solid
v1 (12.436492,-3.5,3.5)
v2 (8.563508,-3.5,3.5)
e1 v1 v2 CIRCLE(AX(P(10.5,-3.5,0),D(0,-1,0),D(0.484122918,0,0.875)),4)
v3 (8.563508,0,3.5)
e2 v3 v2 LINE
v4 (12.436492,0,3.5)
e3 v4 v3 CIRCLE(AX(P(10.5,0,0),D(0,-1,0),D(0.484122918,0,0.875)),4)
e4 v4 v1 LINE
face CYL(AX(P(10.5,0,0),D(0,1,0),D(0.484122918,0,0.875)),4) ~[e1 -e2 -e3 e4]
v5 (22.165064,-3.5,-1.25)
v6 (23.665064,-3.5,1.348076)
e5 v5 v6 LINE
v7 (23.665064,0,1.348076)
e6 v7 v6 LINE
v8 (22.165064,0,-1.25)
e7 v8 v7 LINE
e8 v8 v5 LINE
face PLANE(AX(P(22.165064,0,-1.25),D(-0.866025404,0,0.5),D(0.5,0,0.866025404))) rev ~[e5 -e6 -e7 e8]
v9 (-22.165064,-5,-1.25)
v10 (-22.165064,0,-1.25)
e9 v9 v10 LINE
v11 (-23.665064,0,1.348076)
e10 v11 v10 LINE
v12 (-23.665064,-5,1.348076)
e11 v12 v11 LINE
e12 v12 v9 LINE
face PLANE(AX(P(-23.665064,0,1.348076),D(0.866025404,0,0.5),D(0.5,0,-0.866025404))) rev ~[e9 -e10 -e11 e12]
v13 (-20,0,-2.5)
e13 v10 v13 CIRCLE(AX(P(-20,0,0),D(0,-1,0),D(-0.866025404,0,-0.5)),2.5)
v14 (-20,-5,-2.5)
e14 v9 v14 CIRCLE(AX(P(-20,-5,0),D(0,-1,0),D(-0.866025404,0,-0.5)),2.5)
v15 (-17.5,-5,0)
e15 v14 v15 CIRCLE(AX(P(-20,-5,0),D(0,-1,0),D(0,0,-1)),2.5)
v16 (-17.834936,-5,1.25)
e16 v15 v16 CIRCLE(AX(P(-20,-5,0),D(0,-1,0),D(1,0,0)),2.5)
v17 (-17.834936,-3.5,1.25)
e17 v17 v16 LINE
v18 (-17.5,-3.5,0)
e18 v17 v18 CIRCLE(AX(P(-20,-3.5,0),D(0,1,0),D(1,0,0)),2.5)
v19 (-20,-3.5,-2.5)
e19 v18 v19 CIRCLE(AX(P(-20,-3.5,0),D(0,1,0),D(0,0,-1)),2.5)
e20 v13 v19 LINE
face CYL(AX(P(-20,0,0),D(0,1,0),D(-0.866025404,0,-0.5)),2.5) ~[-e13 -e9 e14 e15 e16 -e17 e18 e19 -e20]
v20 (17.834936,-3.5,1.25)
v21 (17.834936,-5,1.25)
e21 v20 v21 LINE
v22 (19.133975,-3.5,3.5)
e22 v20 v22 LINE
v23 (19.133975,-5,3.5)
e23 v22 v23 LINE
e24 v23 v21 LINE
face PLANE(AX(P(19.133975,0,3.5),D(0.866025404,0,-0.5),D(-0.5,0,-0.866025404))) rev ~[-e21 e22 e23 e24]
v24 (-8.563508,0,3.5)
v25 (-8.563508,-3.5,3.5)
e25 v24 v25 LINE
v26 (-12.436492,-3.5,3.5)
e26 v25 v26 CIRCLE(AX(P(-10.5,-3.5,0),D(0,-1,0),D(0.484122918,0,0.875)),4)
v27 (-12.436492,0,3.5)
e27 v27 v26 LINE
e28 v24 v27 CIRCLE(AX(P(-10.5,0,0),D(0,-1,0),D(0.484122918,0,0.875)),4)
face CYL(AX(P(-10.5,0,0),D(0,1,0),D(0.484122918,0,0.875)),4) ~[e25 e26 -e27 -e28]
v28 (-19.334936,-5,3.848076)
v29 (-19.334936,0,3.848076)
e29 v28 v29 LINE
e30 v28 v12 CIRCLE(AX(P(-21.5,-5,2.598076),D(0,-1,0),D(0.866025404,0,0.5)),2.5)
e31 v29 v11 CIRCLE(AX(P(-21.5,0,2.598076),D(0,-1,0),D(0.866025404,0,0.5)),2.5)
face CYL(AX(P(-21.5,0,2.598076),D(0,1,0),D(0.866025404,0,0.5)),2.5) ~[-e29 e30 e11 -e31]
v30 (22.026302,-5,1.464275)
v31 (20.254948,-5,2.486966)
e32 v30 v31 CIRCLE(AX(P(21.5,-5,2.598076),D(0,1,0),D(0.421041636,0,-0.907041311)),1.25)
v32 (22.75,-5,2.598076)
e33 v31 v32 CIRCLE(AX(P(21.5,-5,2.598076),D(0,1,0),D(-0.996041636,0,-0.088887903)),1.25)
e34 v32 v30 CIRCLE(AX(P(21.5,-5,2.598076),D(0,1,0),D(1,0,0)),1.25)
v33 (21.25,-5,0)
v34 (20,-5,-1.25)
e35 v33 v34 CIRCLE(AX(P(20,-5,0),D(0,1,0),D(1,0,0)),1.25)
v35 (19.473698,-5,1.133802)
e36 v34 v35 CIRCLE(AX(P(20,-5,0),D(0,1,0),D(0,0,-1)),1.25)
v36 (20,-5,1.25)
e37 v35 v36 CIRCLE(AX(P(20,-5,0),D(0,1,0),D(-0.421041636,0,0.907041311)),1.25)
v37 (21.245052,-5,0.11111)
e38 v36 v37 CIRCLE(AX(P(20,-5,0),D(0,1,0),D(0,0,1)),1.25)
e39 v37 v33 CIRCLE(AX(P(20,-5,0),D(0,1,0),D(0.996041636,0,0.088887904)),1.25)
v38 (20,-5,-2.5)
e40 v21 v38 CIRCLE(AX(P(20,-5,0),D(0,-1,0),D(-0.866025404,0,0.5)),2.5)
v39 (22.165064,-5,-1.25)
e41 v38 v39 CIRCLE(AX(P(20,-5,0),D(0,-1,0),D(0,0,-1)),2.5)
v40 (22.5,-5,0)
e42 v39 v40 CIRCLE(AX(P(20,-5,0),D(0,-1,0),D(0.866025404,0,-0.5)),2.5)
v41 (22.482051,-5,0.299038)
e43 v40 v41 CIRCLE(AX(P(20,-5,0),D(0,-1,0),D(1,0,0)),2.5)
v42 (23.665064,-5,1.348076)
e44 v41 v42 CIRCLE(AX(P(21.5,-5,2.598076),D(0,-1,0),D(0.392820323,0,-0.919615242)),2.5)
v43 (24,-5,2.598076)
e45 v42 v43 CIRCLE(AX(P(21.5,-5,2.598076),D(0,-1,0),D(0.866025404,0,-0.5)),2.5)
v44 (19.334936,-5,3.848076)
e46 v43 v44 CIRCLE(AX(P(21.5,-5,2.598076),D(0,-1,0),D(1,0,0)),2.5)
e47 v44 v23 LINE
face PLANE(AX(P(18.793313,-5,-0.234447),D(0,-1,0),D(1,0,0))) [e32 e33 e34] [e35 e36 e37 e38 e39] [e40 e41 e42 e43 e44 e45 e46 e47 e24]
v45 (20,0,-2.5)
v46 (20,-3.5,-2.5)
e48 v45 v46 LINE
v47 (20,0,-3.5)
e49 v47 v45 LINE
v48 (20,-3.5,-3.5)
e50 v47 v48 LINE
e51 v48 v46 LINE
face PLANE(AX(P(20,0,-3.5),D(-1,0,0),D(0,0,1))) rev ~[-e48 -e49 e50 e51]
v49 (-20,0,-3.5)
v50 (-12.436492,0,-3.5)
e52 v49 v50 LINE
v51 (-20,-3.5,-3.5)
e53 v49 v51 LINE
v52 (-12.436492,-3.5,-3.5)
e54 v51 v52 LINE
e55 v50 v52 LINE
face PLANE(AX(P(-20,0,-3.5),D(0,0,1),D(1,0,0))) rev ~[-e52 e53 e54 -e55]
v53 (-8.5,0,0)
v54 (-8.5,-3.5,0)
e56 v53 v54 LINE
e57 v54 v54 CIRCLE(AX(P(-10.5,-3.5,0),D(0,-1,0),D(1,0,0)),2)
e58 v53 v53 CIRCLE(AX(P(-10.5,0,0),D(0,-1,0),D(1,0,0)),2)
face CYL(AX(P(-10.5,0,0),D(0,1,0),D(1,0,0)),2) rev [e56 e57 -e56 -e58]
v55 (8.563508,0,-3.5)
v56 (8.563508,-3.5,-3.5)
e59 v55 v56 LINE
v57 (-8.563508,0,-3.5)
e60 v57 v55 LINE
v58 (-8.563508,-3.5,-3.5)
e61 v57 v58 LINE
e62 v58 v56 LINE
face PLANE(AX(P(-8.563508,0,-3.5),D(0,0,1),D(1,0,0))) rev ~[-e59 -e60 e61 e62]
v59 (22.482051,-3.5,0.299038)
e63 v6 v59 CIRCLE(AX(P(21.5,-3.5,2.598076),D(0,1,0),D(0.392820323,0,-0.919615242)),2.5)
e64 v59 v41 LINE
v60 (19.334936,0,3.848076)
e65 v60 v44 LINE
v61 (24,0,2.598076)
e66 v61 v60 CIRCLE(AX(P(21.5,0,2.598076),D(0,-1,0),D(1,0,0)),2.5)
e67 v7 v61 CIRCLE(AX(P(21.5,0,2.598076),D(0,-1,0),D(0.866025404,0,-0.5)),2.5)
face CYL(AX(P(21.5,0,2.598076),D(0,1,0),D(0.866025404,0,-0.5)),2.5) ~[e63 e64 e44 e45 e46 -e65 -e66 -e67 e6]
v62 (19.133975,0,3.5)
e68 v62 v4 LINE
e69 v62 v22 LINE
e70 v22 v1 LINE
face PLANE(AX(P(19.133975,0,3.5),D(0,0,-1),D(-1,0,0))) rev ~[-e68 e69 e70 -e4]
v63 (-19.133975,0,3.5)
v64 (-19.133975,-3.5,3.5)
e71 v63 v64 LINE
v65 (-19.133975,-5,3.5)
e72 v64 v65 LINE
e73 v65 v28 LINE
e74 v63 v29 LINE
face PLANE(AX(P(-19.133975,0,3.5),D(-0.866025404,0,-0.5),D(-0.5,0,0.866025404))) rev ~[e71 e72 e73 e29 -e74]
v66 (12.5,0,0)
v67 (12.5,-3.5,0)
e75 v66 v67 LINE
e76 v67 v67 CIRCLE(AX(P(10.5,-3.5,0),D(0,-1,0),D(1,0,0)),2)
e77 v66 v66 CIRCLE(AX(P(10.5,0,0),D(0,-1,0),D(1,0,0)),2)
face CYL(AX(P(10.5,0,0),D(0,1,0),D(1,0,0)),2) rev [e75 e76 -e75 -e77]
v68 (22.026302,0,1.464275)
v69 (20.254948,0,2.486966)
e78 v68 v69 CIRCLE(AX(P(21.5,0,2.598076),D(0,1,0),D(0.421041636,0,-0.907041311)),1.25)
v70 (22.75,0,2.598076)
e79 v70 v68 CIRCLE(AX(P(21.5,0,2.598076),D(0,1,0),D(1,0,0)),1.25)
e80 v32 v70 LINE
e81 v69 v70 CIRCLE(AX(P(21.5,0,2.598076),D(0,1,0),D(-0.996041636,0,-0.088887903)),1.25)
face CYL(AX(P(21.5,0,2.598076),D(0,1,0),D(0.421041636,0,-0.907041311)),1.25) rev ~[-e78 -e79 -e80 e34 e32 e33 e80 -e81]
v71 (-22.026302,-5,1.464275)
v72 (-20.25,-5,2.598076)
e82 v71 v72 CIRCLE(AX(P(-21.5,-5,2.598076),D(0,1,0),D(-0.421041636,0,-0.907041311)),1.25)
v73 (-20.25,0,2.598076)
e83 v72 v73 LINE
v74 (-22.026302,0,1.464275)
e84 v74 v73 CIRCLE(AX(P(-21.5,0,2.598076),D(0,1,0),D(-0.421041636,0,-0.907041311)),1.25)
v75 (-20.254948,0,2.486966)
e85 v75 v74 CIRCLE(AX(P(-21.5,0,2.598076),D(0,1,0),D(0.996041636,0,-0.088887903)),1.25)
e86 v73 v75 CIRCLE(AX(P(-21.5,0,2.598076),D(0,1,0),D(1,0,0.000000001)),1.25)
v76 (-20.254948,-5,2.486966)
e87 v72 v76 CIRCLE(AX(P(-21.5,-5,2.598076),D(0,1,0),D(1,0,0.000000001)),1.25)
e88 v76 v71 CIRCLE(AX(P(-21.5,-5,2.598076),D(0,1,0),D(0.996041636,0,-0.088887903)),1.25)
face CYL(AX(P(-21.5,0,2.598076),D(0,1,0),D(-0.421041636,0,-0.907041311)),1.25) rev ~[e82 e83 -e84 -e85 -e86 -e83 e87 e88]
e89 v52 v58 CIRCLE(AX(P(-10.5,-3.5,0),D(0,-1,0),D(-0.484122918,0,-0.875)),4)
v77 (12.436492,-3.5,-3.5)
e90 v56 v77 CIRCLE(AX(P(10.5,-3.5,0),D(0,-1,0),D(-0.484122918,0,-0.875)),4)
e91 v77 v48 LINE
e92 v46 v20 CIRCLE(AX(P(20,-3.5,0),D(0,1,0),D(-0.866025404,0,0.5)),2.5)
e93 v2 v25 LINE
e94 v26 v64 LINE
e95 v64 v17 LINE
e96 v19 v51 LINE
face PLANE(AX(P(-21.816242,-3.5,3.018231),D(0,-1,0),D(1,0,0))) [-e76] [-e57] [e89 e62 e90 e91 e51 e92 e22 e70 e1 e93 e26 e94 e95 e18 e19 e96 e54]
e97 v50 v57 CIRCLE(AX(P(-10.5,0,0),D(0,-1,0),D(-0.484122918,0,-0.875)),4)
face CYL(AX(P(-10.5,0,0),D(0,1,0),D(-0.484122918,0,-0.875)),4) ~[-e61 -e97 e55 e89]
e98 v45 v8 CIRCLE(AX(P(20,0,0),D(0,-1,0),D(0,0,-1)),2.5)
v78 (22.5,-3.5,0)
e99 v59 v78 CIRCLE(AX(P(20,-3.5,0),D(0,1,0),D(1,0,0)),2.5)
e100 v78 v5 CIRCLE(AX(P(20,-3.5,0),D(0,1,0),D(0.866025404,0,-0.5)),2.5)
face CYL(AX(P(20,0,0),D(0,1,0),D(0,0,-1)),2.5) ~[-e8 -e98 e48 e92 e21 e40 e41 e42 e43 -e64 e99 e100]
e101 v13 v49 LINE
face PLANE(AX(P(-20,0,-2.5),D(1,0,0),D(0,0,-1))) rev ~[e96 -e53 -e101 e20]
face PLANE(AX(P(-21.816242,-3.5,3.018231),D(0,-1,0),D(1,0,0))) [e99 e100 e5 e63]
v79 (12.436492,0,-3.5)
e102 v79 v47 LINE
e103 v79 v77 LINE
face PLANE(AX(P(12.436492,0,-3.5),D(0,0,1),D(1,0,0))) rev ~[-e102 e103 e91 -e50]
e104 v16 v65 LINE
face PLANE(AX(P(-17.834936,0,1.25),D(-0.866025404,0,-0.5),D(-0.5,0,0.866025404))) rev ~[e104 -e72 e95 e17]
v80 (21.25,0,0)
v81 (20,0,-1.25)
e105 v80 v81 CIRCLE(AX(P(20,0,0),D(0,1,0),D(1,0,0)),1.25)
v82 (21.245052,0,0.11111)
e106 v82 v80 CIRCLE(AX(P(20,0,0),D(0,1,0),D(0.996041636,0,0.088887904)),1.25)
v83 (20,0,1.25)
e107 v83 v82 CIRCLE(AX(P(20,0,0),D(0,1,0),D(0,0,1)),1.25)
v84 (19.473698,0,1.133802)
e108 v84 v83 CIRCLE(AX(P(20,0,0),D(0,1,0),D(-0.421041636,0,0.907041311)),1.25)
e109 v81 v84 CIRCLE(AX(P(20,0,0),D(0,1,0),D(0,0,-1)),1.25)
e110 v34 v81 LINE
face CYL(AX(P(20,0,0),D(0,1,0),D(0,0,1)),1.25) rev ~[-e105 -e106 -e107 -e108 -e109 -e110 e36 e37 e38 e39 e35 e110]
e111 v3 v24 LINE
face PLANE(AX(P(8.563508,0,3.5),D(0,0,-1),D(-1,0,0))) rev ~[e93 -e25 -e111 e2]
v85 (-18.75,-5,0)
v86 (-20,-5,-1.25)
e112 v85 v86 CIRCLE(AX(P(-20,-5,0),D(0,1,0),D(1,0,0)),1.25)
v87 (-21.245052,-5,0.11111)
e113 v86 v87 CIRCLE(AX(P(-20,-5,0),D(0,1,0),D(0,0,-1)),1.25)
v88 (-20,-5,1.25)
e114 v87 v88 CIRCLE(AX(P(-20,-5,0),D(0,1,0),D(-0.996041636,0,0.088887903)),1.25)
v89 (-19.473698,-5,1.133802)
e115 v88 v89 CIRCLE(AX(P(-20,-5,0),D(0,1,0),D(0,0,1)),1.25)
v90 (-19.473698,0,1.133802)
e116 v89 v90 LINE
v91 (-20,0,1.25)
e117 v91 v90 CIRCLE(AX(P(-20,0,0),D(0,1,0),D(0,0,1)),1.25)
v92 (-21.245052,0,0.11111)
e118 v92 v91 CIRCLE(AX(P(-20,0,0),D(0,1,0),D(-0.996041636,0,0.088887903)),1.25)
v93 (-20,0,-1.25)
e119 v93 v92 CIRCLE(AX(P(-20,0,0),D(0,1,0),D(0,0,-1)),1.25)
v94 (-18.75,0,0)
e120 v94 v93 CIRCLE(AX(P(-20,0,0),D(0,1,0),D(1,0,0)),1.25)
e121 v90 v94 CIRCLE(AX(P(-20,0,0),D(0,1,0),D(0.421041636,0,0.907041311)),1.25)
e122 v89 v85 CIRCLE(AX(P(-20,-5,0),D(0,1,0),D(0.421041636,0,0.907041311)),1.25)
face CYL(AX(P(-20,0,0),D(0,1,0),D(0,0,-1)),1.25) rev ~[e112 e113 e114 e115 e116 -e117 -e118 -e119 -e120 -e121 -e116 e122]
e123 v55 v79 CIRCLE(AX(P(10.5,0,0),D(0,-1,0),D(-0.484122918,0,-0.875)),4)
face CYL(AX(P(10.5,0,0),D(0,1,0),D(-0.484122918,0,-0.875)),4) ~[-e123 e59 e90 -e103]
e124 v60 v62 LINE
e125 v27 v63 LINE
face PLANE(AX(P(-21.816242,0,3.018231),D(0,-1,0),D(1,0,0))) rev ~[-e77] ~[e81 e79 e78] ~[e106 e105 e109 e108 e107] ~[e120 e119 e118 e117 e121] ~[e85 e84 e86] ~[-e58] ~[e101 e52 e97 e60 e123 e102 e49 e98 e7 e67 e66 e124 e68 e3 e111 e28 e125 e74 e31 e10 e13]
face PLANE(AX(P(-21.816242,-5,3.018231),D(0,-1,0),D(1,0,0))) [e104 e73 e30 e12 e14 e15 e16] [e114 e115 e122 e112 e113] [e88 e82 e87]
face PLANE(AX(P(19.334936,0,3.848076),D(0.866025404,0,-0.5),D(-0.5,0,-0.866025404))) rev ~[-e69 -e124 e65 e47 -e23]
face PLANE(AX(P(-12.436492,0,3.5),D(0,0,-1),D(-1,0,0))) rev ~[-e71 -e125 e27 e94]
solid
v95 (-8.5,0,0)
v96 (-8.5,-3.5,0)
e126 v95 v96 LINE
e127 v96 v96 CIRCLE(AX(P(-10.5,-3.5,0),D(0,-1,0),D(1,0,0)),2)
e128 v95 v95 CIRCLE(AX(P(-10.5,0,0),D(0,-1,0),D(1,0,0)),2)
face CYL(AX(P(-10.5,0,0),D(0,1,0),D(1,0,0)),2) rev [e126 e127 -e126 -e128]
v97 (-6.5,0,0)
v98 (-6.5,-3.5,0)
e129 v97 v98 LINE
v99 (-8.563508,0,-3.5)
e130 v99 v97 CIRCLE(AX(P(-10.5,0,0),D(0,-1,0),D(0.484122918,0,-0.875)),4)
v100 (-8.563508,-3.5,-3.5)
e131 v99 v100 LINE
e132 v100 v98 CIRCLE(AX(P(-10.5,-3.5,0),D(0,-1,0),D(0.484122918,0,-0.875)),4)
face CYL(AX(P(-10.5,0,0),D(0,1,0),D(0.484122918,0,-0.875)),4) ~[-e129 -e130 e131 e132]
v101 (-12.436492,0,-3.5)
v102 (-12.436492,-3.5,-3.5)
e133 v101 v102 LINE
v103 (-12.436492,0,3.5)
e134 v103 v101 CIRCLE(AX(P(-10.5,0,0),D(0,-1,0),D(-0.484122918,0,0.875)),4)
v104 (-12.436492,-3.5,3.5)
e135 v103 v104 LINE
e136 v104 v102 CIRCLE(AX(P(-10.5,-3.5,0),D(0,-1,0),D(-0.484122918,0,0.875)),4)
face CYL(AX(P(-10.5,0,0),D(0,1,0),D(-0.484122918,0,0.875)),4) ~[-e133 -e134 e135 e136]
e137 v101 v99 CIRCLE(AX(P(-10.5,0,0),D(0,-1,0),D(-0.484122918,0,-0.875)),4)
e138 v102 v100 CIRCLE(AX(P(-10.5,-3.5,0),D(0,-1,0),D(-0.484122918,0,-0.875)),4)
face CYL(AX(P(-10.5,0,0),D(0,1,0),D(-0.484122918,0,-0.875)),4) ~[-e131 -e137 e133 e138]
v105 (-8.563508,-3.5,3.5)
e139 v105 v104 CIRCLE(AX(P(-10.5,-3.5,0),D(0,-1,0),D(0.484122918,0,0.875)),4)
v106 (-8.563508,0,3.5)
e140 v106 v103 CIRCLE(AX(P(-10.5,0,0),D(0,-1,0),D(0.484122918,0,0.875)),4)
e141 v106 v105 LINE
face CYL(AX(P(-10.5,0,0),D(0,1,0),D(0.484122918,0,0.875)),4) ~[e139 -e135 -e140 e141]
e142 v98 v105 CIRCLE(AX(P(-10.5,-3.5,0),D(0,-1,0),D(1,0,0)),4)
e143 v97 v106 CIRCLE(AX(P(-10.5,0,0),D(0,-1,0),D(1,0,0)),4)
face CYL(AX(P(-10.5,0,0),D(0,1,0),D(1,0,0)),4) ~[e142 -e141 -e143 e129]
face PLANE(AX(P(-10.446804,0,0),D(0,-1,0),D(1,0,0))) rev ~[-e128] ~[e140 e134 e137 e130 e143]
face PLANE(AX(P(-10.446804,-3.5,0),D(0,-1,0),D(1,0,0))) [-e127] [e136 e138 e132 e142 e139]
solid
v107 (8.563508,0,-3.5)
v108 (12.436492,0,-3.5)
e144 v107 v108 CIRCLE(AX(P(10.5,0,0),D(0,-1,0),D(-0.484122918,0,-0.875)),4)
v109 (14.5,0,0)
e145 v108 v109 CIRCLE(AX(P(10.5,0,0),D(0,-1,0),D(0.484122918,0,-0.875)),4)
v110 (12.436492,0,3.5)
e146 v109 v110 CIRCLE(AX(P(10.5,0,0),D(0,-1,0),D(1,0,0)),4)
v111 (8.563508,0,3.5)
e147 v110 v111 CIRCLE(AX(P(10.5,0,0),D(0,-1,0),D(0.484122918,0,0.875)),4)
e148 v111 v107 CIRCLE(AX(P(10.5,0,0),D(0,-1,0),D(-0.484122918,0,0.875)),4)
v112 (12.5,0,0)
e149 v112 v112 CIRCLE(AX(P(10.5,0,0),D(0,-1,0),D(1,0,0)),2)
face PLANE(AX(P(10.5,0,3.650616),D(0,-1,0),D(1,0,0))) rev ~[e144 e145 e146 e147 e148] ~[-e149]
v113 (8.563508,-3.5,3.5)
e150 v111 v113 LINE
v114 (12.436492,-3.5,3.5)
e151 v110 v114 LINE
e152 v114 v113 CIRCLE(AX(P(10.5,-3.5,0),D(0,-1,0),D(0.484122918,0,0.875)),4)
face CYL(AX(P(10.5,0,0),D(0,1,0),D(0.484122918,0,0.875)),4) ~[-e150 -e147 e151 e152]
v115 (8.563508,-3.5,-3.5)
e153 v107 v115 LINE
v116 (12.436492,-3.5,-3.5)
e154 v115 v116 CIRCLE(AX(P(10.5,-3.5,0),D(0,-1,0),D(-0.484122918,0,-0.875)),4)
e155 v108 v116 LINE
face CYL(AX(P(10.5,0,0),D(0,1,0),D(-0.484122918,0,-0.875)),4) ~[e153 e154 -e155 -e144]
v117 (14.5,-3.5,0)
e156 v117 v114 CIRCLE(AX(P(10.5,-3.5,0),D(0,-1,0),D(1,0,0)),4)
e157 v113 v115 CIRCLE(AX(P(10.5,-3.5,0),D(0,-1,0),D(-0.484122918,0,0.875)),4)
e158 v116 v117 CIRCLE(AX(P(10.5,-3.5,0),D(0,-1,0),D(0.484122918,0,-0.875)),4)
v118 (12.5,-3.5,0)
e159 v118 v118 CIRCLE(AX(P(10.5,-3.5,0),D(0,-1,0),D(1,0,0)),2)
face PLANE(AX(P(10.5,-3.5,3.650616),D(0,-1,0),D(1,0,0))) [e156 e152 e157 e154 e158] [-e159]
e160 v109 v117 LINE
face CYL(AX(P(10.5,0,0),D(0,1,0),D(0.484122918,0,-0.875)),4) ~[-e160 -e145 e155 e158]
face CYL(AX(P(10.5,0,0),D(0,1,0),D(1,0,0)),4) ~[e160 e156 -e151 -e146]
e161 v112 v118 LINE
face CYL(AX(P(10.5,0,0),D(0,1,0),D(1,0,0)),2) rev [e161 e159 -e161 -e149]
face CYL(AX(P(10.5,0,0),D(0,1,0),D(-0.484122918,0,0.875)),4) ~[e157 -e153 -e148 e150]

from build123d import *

# Parameters (mm, degrees)
F0_R     = 2
F1_DEPTH = 3.5
F2_DEPTH = 3.5
F3_DEPTH = 5


with BuildPart() as f1:
    # F0 (on Front) → F1 (new body)
    with BuildSketch(Plane.XZ):
        with BuildLine():
            Line((-20, 2.5), (-20, 3.5))
            Line((-20, 3.5), (-19.1683624897, 3.5))
            ThreePointArc((-19.1683624897, 3.5), (-19.2449236648, 3.6772567905), (-19.3349364905, 3.8480762114))
            ThreePointArc((-19.3349364905, 3.8480762114), (-22.75, 4.7631397208), (-23.6650635095, 1.3480762114))
            ThreePointArc((-23.6650635095, 1.3480762114), (-23.1586748831, 0.7275688919), (-22.4820508076, 0.2990381057))
            ThreePointArc((-22.4820508076, 0.2990381057), (-22.3282515686, 0.9106287023), (-22.026302045, 1.464274572))
            ThreePointArc((-22.026302045, 1.464274572), (-22.17254087, 3.651731173), (-20.25, 2.5980762114))
            ThreePointArc((-20.25, 2.5980762114), (-20.2512376014, 2.5424662136), (-20.254947955, 2.4869663328))
            ThreePointArc((-20.254947955, 2.4869663328), (-20.1276404483, 2.496739457), (-20, 2.5))
        make_face()
        with BuildLine():
            ThreePointArc((-22.4820508076, 0.2990381057), (-23.1586748831, 0.7275688919), (-23.6650635095, 1.3480762114))
            Line((-23.6650635095, 1.3480762114), (-22.1650635095, -1.25))
            ThreePointArc((-22.1650635095, -1.25), (-22.4492442982, -0.5012009257), (-22.4820508076, 0.2990381057))
        make_face()
        with BuildLine():
            ThreePointArc((-20, -1.25), (-20.9223305666, -0.8436861537), (-21.245052045, 0.1111098786))
            ThreePointArc((-21.245052045, 0.1111098786), (-21.8754981947, 0.1264368554), (-22.4820508076, 0.2990381057))
            ThreePointArc((-22.4820508076, 0.2990381057), (-22.4492442982, -0.5012009257), (-22.1650635095, -1.25))
            ThreePointArc((-22.1650635095, -1.25), (-21.25, -2.1650635095), (-20, -2.5))
            Line((-20, -2.5), (-20, -1.25))
        make_face()
        with BuildLine():
            Line((-20, 1.25), (-20, 2.5))
            ThreePointArc((-20, 2.5), (-20.1276404483, 2.496739457), (-20.254947955, 2.4869663328))
            ThreePointArc((-20.254947955, 2.4869663328), (-20.875, 1.5155444566), (-22.026302045, 1.464274572))
            ThreePointArc((-22.026302045, 1.464274572), (-22.3282515686, 0.9106287023), (-22.4820508076, 0.2990381057))
            ThreePointArc((-22.4820508076, 0.2990381057), (-21.8754981947, 0.1264368554), (-21.245052045, 0.1111098786))
            ThreePointArc((-21.245052045, 0.1111098786), (-20.8436861537, 0.9223305666), (-20, 1.25))
        make_face()
        with BuildLine():
            ThreePointArc((-19.0179491924, 2.2990381057), (-19.4987990743, 2.4492442982), (-20, 2.5))
            Line((-20, 2.5), (-20, 1.25))
            ThreePointArc((-20, 1.25), (-19.7305116414, 1.2206047782), (-19.473697955, 1.1338016393))
            ThreePointArc((-19.473697955, 1.1338016393), (-19.1717484314, 1.6874475091), (-19.0179491924, 2.2990381057))
        make_face()
        with BuildLine():
            Line((-19.1683624897, 3.5), (-20, 3.5))
            Line((-20, 3.5), (-20, 2.5))
            ThreePointArc((-20, 2.5), (-19.4987990743, 2.4492442982), (-19.0179491924, 2.2990381057))
            ThreePointArc((-19.0179491924, 2.2990381057), (-19.0044913325, 2.4482880592), (-19, 2.5980762114))
            ThreePointArc((-19, 2.5980762114), (-19.0424510406, 3.0568279003), (-19.1683624897, 3.5))
        make_face()
        with BuildLine():
            ThreePointArc((-17.8349364905, 1.25), (-18.3413251169, 1.8705073194), (-19.0179491924, 2.2990381057))
            ThreePointArc((-19.0179491924, 2.2990381057), (-19.1717484314, 1.6874475091), (-19.473697955, 1.1338016393))
            ThreePointArc((-19.473697955, 1.1338016393), (-18.9463450384, 0.67254087), (-18.75, 0))
            ThreePointArc((-18.75, 0), (-19.1161165235, -0.8838834765), (-20, -1.25))
            Line((-20, -1.25), (-20, -2.5))
            ThreePointArc((-20, -2.5), (-18.232233047, -1.767766953), (-17.5, 0))
            ThreePointArc((-17.5, 0), (-17.5851854343, 0.6470476128), (-17.8349364905, 1.25))
        make_face()
        with BuildLine():
            Line((-19.1339745962, 3.5), (-19.1683624897, 3.5))
            ThreePointArc((-19.1683624897, 3.5), (-19.0424510406, 3.0568279003), (-19, 2.5980762114))
            ThreePointArc((-19, 2.5980762114), (-19.0044913325, 2.4482880592), (-19.0179491924, 2.2990381057))
            ThreePointArc((-19.0179491924, 2.2990381057), (-18.3413251169, 1.8705073194), (-17.8349364905, 1.25))
            Line((-17.8349364905, 1.25), (-19.1339745962, 3.5))
        make_face()
        with BuildLine():
            ThreePointArc((-19.3349364905, 3.8480762114), (-19.2449236648, 3.6772567905), (-19.1683624897, 3.5))
            Line((-19.1683624897, 3.5), (-19.1339745962, 3.5))
            Line((-19.1339745962, 3.5), (-19.3349364905, 3.8480762114))
        make_face()
        with BuildLine():
            Line((-12.4364916731, 3.5), (-19.1339745962, 3.5))
            Line((-19.1339745962, 3.5), (-17.8349364905, 1.25))
            ThreePointArc((-17.8349364905, 1.25), (-17.5851854343, 0.6470476128), (-17.5, 0))
            ThreePointArc((-17.5, 0), (-18.232233047, -1.767766953), (-20, -2.5))
            Line((-20, -2.5), (-20, -3.5))
            Line((-20, -3.5), (-12.4364916731, -3.5))
            ThreePointArc((-12.4364916731, -3.5), (-14.5, 0), (-12.4364916731, 3.5))
        make_face()
        with BuildLine():
            Line((-8.5635083269, 3.5), (-12.4364916731, 3.5))
            ThreePointArc((-12.4364916731, 3.5), (-14.5, 0), (-12.4364916731, -3.5))
            Line((-12.4364916731, -3.5), (-8.5635083269, -3.5))
            ThreePointArc((-8.5635083269, -3.5), (-7.0542804313, -2.0315060063), (-6.5, 0))
            ThreePointArc((-6.5, 0), (-7.0542804313, 2.0315060063), (-8.5635083269, 3.5))
        make_face()
        with Locations((-10.5, 0)):
            Circle(F0_R, mode=Mode.SUBTRACT)
        with BuildLine():
            ThreePointArc((-8.5635083269, 3.5), (-10.5, 4), (-12.4364916731, 3.5))
            Line((-12.4364916731, 3.5), (-8.5635083269, 3.5))
        make_face()
        with BuildLine():
            Line((-8.5635083269, -3.5), (-12.4364916731, -3.5))
            ThreePointArc((-12.4364916731, -3.5), (-10.5, -4), (-8.5635083269, -3.5))
        make_face()
        with BuildLine():
            Line((8.5635083269, 3.5), (-8.5635083269, 3.5))
            ThreePointArc((-8.5635083269, 3.5), (-7.0542804313, 2.0315060063), (-6.5, 0))
            ThreePointArc((-6.5, 0), (-7.0542804313, -2.0315060063), (-8.5635083269, -3.5))
            Line((-8.5635083269, -3.5), (8.5635083269, -3.5))
            ThreePointArc((8.5635083269, -3.5), (6.5, 0), (8.5635083269, 3.5))
        make_face()
        with BuildLine():
            Line((19.1339745962, 3.5), (12.4364916731, 3.5))
            ThreePointArc((12.4364916731, 3.5), (13.9457195687, 2.0315060063), (14.5, 0))
            ThreePointArc((14.5, 0), (13.9457195687, -2.0315060063), (12.4364916731, -3.5))
            Line((12.4364916731, -3.5), (20, -3.5))
            Line((20, -3.5), (20, -2.5))
            ThreePointArc((20, -2.5), (17.8349364905, -1.25), (17.8349364905, 1.25))
            Line((17.8349364905, 1.25), (19.1339745962, 3.5))
        make_face()
        with BuildLine():
            Line((12.4364916731, 3.5), (8.5635083269, 3.5))
            ThreePointArc((8.5635083269, 3.5), (6.5, 0), (8.5635083269, -3.5))
            Line((8.5635083269, -3.5), (12.4364916731, -3.5))
            ThreePointArc((12.4364916731, -3.5), (13.9457195687, -2.0315060063), (14.5, 0))
            ThreePointArc((14.5, 0), (13.9457195687, 2.0315060063), (12.4364916731, 3.5))
        make_face()
        with Locations((10.5, 0)):
            Circle(F0_R, mode=Mode.SUBTRACT)
        with BuildLine():
            ThreePointArc((12.4364916731, 3.5), (10.5, 4), (8.5635083269, 3.5))
            Line((8.5635083269, 3.5), (12.4364916731, 3.5))
        make_face()
        with BuildLine():
            Line((12.4364916731, -3.5), (8.5635083269, -3.5))
            ThreePointArc((8.5635083269, -3.5), (10.5, -4), (12.4364916731, -3.5))
        make_face()
        with BuildLine():
            ThreePointArc((19.0179491924, 2.2990381057), (18.3413251169, 1.8705073194), (17.8349364905, 1.25))
            ThreePointArc((17.8349364905, 1.25), (17.8349364905, -1.25), (20, -2.5))
            Line((20, -2.5), (20, -1.25))
            ThreePointArc((20, -1.25), (18.7793952218, -0.2694883586), (19.473697955, 1.1338016393))
            ThreePointArc((19.473697955, 1.1338016393), (19.1717484314, 1.6874475091), (19.0179491924, 2.2990381057))
        make_face()
        with BuildLine():
            ThreePointArc((20.254947955, 2.4869663328), (20.1276404483, 2.496739457), (20, 2.5))
            Line((20, 2.5), (20, 1.25))
            ThreePointArc((20, 1.25), (20.8436861537, 0.9223305666), (21.245052045, 0.1111098786))
            ThreePointArc((21.245052045, 0.1111098786), (21.8754981947, 0.1264368554), (22.4820508076, 0.2990381057))
            ThreePointArc((22.4820508076, 0.2990381057), (22.3282515686, 0.9106287023), (22.026302045, 1.464274572))
            ThreePointArc((22.026302045, 1.464274572), (20.875, 1.5155444566), (20.254947955, 2.4869663328))
        make_face()
        with BuildLine():
            Line((20, -1.25), (20, -2.5))
            ThreePointArc((20, -2.5), (21.25, -2.1650635095), (22.1650635095, -1.25))
            ThreePointArc((22.1650635095, -1.25), (22.4148145657, -0.6470476128), (22.5, 0))
            ThreePointArc((22.5, 0), (22.4955086675, 0.1497881522), (22.4820508076, 0.2990381057))
            ThreePointArc((22.4820508076, 0.2990381057), (21.8754981947, 0.1264368554), (21.245052045, 0.1111098786))
            ThreePointArc((21.245052045, 0.1111098786), (21.2487623986, 0.0556099977), (21.25, 0))
            ThreePointArc((21.25, 0), (20.8838834765, -0.8838834765), (20, -1.25))
        make_face()
        with BuildLine():
            ThreePointArc((20, 2.5), (19.4987990743, 2.4492442982), (19.0179491924, 2.2990381057))
            ThreePointArc((19.0179491924, 2.2990381057), (19.1717484314, 1.6874475091), (19.473697955, 1.1338016393))
            ThreePointArc((19.473697955, 1.1338016393), (19.7305116414, 1.2206047782), (20, 1.25))
            Line((20, 1.25), (20, 2.5))
        make_face()
        with BuildLine():
            ThreePointArc((19.3349364905, 3.8480762114), (19.2449236648, 3.6772567905), (19.1683624897, 3.5))
            Line((19.1683624897, 3.5), (20, 3.5))
            Line((20, 3.5), (20, 2.5))
            ThreePointArc((20, 2.5), (20.1276404483, 2.496739457), (20.254947955, 2.4869663328))
            ThreePointArc((20.254947955, 2.4869663328), (21.4443900023, 3.84683861), (22.75, 2.5980762114))
            ThreePointArc((22.75, 2.5980762114), (22.5536549616, 1.9255353413), (22.026302045, 1.464274572))
            ThreePointArc((22.026302045, 1.464274572), (22.3282515686, 0.9106287023), (22.4820508076, 0.2990381057))
            ThreePointArc((22.4820508076, 0.2990381057), (23.1586748831, 0.7275688919), (23.6650635095, 1.3480762114))
            ThreePointArc((23.6650635095, 1.3480762114), (23.9148145657, 1.9510285986), (24, 2.5980762114))
            ThreePointArc((24, 2.5980762114), (22.1470476128, 5.0128907771), (19.3349364905, 3.8480762114))
        make_face()
        with BuildLine():
            Line((19.1683624897, 3.5), (19.1339745962, 3.5))
            Line((19.1339745962, 3.5), (17.8349364905, 1.25))
            ThreePointArc((17.8349364905, 1.25), (18.3413251169, 1.8705073194), (19.0179491924, 2.2990381057))
            ThreePointArc((19.0179491924, 2.2990381057), (19.0193798813, 2.9087590507), (19.1683624897, 3.5))
        make_face()
        with BuildLine():
            Line((19.3349364905, 3.8480762114), (19.1339745962, 3.5))
            Line((19.1339745962, 3.5), (19.1683624897, 3.5))
            ThreePointArc((19.1683624897, 3.5), (19.2449236648, 3.6772567905), (19.3349364905, 3.8480762114))
        make_face()
        with BuildLine():
            Line((20, 3.5), (19.1683624897, 3.5))
            ThreePointArc((19.1683624897, 3.5), (19.0193798813, 2.9087590507), (19.0179491924, 2.2990381057))
            ThreePointArc((19.0179491924, 2.2990381057), (19.4987990743, 2.4492442982), (20, 2.5))
            Line((20, 2.5), (20, 3.5))
        make_face()
        with BuildLine():
            Line((22.1650635095, -1.25), (23.6650635095, 1.3480762114))
            ThreePointArc((23.6650635095, 1.3480762114), (23.1586748831, 0.7275688919), (22.4820508076, 0.2990381057))
            ThreePointArc((22.4820508076, 0.2990381057), (22.4955086675, 0.1497881522), (22.5, 0))
            ThreePointArc((22.5, 0), (22.4148145657, -0.6470476128), (22.1650635095, -1.25))
        make_face()
    extrude(amount=F1_DEPTH)

    # F0 (on Front) → F3 (join)
    with BuildSketch(Plane.XZ):
        with BuildLine():
            Line((-20, 2.5), (-20, 3.5))
            Line((-20, 3.5), (-19.1683624897, 3.5))
            ThreePointArc((-19.1683624897, 3.5), (-19.2449236648, 3.6772567905), (-19.3349364905, 3.8480762114))
            ThreePointArc((-19.3349364905, 3.8480762114), (-22.75, 4.7631397208), (-23.6650635095, 1.3480762114))
            ThreePointArc((-23.6650635095, 1.3480762114), (-23.1586748831, 0.7275688919), (-22.4820508076, 0.2990381057))
            ThreePointArc((-22.4820508076, 0.2990381057), (-22.3282515686, 0.9106287023), (-22.026302045, 1.464274572))
            ThreePointArc((-22.026302045, 1.464274572), (-22.17254087, 3.651731173), (-20.25, 2.5980762114))
            ThreePointArc((-20.25, 2.5980762114), (-20.2512376014, 2.5424662136), (-20.254947955, 2.4869663328))
            ThreePointArc((-20.254947955, 2.4869663328), (-20.1276404483, 2.496739457), (-20, 2.5))
        make_face()
        with BuildLine():
            Line((-20, 1.25), (-20, 2.5))
            ThreePointArc((-20, 2.5), (-20.1276404483, 2.496739457), (-20.254947955, 2.4869663328))
            ThreePointArc((-20.254947955, 2.4869663328), (-20.875, 1.5155444566), (-22.026302045, 1.464274572))
            ThreePointArc((-22.026302045, 1.464274572), (-22.3282515686, 0.9106287023), (-22.4820508076, 0.2990381057))
            ThreePointArc((-22.4820508076, 0.2990381057), (-21.8754981947, 0.1264368554), (-21.245052045, 0.1111098786))
            ThreePointArc((-21.245052045, 0.1111098786), (-20.8436861537, 0.9223305666), (-20, 1.25))
        make_face()
        with BuildLine():
            ThreePointArc((-20, -1.25), (-20.9223305666, -0.8436861537), (-21.245052045, 0.1111098786))
            ThreePointArc((-21.245052045, 0.1111098786), (-21.8754981947, 0.1264368554), (-22.4820508076, 0.2990381057))
            ThreePointArc((-22.4820508076, 0.2990381057), (-22.4492442982, -0.5012009257), (-22.1650635095, -1.25))
            ThreePointArc((-22.1650635095, -1.25), (-21.25, -2.1650635095), (-20, -2.5))
            Line((-20, -2.5), (-20, -1.25))
        make_face()
        with BuildLine():
            ThreePointArc((-17.8349364905, 1.25), (-18.3413251169, 1.8705073194), (-19.0179491924, 2.2990381057))
            ThreePointArc((-19.0179491924, 2.2990381057), (-19.1717484314, 1.6874475091), (-19.473697955, 1.1338016393))
            ThreePointArc((-19.473697955, 1.1338016393), (-18.9463450384, 0.67254087), (-18.75, 0))
            ThreePointArc((-18.75, 0), (-19.1161165235, -0.8838834765), (-20, -1.25))
            Line((-20, -1.25), (-20, -2.5))
            ThreePointArc((-20, -2.5), (-18.232233047, -1.767766953), (-17.5, 0))
            ThreePointArc((-17.5, 0), (-17.5851854343, 0.6470476128), (-17.8349364905, 1.25))
        make_face()
        with BuildLine():
            ThreePointArc((-19.0179491924, 2.2990381057), (-19.4987990743, 2.4492442982), (-20, 2.5))
            Line((-20, 2.5), (-20, 1.25))
            ThreePointArc((-20, 1.25), (-19.7305116414, 1.2206047782), (-19.473697955, 1.1338016393))
            ThreePointArc((-19.473697955, 1.1338016393), (-19.1717484314, 1.6874475091), (-19.0179491924, 2.2990381057))
        make_face()
        with BuildLine():
            Line((-19.1339745962, 3.5), (-19.1683624897, 3.5))
            ThreePointArc((-19.1683624897, 3.5), (-19.0424510406, 3.0568279003), (-19, 2.5980762114))
            ThreePointArc((-19, 2.5980762114), (-19.0044913325, 2.4482880592), (-19.0179491924, 2.2990381057))
            ThreePointArc((-19.0179491924, 2.2990381057), (-18.3413251169, 1.8705073194), (-17.8349364905, 1.25))
            Line((-17.8349364905, 1.25), (-19.1339745962, 3.5))
        make_face()
        with BuildLine():
            Line((-19.1683624897, 3.5), (-20, 3.5))
            Line((-20, 3.5), (-20, 2.5))
            ThreePointArc((-20, 2.5), (-19.4987990743, 2.4492442982), (-19.0179491924, 2.2990381057))
            ThreePointArc((-19.0179491924, 2.2990381057), (-19.0044913325, 2.4482880592), (-19, 2.5980762114))
            ThreePointArc((-19, 2.5980762114), (-19.0424510406, 3.0568279003), (-19.1683624897, 3.5))
        make_face()
        with BuildLine():
            ThreePointArc((-19.3349364905, 3.8480762114), (-19.2449236648, 3.6772567905), (-19.1683624897, 3.5))
            Line((-19.1683624897, 3.5), (-19.1339745962, 3.5))
            Line((-19.1339745962, 3.5), (-19.3349364905, 3.8480762114))
        make_face()
        with BuildLine():
            ThreePointArc((-22.4820508076, 0.2990381057), (-23.1586748831, 0.7275688919), (-23.6650635095, 1.3480762114))
            Line((-23.6650635095, 1.3480762114), (-22.1650635095, -1.25))
            ThreePointArc((-22.1650635095, -1.25), (-22.4492442982, -0.5012009257), (-22.4820508076, 0.2990381057))
        make_face()
        with BuildLine():
            ThreePointArc((19.0179491924, 2.2990381057), (18.3413251169, 1.8705073194), (17.8349364905, 1.25))
            ThreePointArc((17.8349364905, 1.25), (17.8349364905, -1.25), (20, -2.5))
            Line((20, -2.5), (20, -1.25))
            ThreePointArc((20, -1.25), (18.7793952218, -0.2694883586), (19.473697955, 1.1338016393))
            ThreePointArc((19.473697955, 1.1338016393), (19.1717484314, 1.6874475091), (19.0179491924, 2.2990381057))
        make_face()
        with BuildLine():
            Line((20, -1.25), (20, -2.5))
            ThreePointArc((20, -2.5), (21.25, -2.1650635095), (22.1650635095, -1.25))
            ThreePointArc((22.1650635095, -1.25), (22.4148145657, -0.6470476128), (22.5, 0))
            ThreePointArc((22.5, 0), (22.4955086675, 0.1497881522), (22.4820508076, 0.2990381057))
            ThreePointArc((22.4820508076, 0.2990381057), (21.8754981947, 0.1264368554), (21.245052045, 0.1111098786))
            ThreePointArc((21.245052045, 0.1111098786), (21.2487623986, 0.0556099977), (21.25, 0))
            ThreePointArc((21.25, 0), (20.8838834765, -0.8838834765), (20, -1.25))
        make_face()
        with BuildLine():
            ThreePointArc((20.254947955, 2.4869663328), (20.1276404483, 2.496739457), (20, 2.5))
            Line((20, 2.5), (20, 1.25))
            ThreePointArc((20, 1.25), (20.8436861537, 0.9223305666), (21.245052045, 0.1111098786))
            ThreePointArc((21.245052045, 0.1111098786), (21.8754981947, 0.1264368554), (22.4820508076, 0.2990381057))
            ThreePointArc((22.4820508076, 0.2990381057), (22.3282515686, 0.9106287023), (22.026302045, 1.464274572))
            ThreePointArc((22.026302045, 1.464274572), (20.875, 1.5155444566), (20.254947955, 2.4869663328))
        make_face()
        with BuildLine():
            ThreePointArc((19.3349364905, 3.8480762114), (19.2449236648, 3.6772567905), (19.1683624897, 3.5))
            Line((19.1683624897, 3.5), (20, 3.5))
            Line((20, 3.5), (20, 2.5))
            ThreePointArc((20, 2.5), (20.1276404483, 2.496739457), (20.254947955, 2.4869663328))
            ThreePointArc((20.254947955, 2.4869663328), (21.4443900023, 3.84683861), (22.75, 2.5980762114))
            ThreePointArc((22.75, 2.5980762114), (22.5536549616, 1.9255353413), (22.026302045, 1.464274572))
            ThreePointArc((22.026302045, 1.464274572), (22.3282515686, 0.9106287023), (22.4820508076, 0.2990381057))
            ThreePointArc((22.4820508076, 0.2990381057), (23.1586748831, 0.7275688919), (23.6650635095, 1.3480762114))
            ThreePointArc((23.6650635095, 1.3480762114), (23.9148145657, 1.9510285986), (24, 2.5980762114))
            ThreePointArc((24, 2.5980762114), (22.1470476128, 5.0128907771), (19.3349364905, 3.8480762114))
        make_face()
        with BuildLine():
            Line((19.1683624897, 3.5), (19.1339745962, 3.5))
            Line((19.1339745962, 3.5), (17.8349364905, 1.25))
            ThreePointArc((17.8349364905, 1.25), (18.3413251169, 1.8705073194), (19.0179491924, 2.2990381057))
            ThreePointArc((19.0179491924, 2.2990381057), (19.0193798813, 2.9087590507), (19.1683624897, 3.5))
        make_face()
        with BuildLine():
            Line((20, 3.5), (19.1683624897, 3.5))
            ThreePointArc((19.1683624897, 3.5), (19.0193798813, 2.9087590507), (19.0179491924, 2.2990381057))
            ThreePointArc((19.0179491924, 2.2990381057), (19.4987990743, 2.4492442982), (20, 2.5))
            Line((20, 2.5), (20, 3.5))
        make_face()
        with BuildLine():
            Line((19.3349364905, 3.8480762114), (19.1339745962, 3.5))
            Line((19.1339745962, 3.5), (19.1683624897, 3.5))
            ThreePointArc((19.1683624897, 3.5), (19.2449236648, 3.6772567905), (19.3349364905, 3.8480762114))
        make_face()
        with BuildLine():
            ThreePointArc((20, 2.5), (19.4987990743, 2.4492442982), (19.0179491924, 2.2990381057))
            ThreePointArc((19.0179491924, 2.2990381057), (19.1717484314, 1.6874475091), (19.473697955, 1.1338016393))
            ThreePointArc((19.473697955, 1.1338016393), (19.7305116414, 1.2206047782), (20, 1.25))
            Line((20, 1.25), (20, 2.5))
        make_face()
    extrude(amount=F3_DEPTH)


with BuildPart() as f2:
    # F0 (on Front) → F2 (new body)
    with BuildSketch(Plane.XZ):
        with BuildLine():
            Line((-8.5635083269, 3.5), (-12.4364916731, 3.5))
            ThreePointArc((-12.4364916731, 3.5), (-14.5, 0), (-12.4364916731, -3.5))
            Line((-12.4364916731, -3.5), (-8.5635083269, -3.5))
            ThreePointArc((-8.5635083269, -3.5), (-7.0542804313, -2.0315060063), (-6.5, 0))
            ThreePointArc((-6.5, 0), (-7.0542804313, 2.0315060063), (-8.5635083269, 3.5))
        make_face()
        with Locations((-10.5, 0)):
            Circle(F0_R, mode=Mode.SUBTRACT)
        with BuildLine():
            ThreePointArc((-8.5635083269, 3.5), (-10.5, 4), (-12.4364916731, 3.5))
            Line((-12.4364916731, 3.5), (-8.5635083269, 3.5))
        make_face()
        with BuildLine():
            Line((-8.5635083269, -3.5), (-12.4364916731, -3.5))
            ThreePointArc((-12.4364916731, -3.5), (-10.5, -4), (-8.5635083269, -3.5))
        make_face()
    extrude(amount=F2_DEPTH)


with BuildPart() as f2b:
    # F0 (on Front) → F2, piece 2 (new body)
    with BuildSketch(Plane.XZ):
        with BuildLine():
            ThreePointArc((12.4364916731, 3.5), (10.5, 4), (8.5635083269, 3.5))
            Line((8.5635083269, 3.5), (12.4364916731, 3.5))
        make_face()
        with BuildLine():
            Line((12.4364916731, 3.5), (8.5635083269, 3.5))
            ThreePointArc((8.5635083269, 3.5), (6.5, 0), (8.5635083269, -3.5))
            Line((8.5635083269, -3.5), (12.4364916731, -3.5))
            ThreePointArc((12.4364916731, -3.5), (13.9457195687, -2.0315060063), (14.5, 0))
            ThreePointArc((14.5, 0), (13.9457195687, 2.0315060063), (12.4364916731, 3.5))
        make_face()
        with Locations((10.5, 0)):
            Circle(F0_R, mode=Mode.SUBTRACT)
        with BuildLine():
            Line((12.4364916731, -3.5), (8.5635083269, -3.5))
            ThreePointArc((8.5635083269, -3.5), (10.5, -4), (12.4364916731, -3.5))
        make_face()
    extrude(amount=F2_DEPTH)


solid = Compound([f1.part, f2.part, f2b.part])
